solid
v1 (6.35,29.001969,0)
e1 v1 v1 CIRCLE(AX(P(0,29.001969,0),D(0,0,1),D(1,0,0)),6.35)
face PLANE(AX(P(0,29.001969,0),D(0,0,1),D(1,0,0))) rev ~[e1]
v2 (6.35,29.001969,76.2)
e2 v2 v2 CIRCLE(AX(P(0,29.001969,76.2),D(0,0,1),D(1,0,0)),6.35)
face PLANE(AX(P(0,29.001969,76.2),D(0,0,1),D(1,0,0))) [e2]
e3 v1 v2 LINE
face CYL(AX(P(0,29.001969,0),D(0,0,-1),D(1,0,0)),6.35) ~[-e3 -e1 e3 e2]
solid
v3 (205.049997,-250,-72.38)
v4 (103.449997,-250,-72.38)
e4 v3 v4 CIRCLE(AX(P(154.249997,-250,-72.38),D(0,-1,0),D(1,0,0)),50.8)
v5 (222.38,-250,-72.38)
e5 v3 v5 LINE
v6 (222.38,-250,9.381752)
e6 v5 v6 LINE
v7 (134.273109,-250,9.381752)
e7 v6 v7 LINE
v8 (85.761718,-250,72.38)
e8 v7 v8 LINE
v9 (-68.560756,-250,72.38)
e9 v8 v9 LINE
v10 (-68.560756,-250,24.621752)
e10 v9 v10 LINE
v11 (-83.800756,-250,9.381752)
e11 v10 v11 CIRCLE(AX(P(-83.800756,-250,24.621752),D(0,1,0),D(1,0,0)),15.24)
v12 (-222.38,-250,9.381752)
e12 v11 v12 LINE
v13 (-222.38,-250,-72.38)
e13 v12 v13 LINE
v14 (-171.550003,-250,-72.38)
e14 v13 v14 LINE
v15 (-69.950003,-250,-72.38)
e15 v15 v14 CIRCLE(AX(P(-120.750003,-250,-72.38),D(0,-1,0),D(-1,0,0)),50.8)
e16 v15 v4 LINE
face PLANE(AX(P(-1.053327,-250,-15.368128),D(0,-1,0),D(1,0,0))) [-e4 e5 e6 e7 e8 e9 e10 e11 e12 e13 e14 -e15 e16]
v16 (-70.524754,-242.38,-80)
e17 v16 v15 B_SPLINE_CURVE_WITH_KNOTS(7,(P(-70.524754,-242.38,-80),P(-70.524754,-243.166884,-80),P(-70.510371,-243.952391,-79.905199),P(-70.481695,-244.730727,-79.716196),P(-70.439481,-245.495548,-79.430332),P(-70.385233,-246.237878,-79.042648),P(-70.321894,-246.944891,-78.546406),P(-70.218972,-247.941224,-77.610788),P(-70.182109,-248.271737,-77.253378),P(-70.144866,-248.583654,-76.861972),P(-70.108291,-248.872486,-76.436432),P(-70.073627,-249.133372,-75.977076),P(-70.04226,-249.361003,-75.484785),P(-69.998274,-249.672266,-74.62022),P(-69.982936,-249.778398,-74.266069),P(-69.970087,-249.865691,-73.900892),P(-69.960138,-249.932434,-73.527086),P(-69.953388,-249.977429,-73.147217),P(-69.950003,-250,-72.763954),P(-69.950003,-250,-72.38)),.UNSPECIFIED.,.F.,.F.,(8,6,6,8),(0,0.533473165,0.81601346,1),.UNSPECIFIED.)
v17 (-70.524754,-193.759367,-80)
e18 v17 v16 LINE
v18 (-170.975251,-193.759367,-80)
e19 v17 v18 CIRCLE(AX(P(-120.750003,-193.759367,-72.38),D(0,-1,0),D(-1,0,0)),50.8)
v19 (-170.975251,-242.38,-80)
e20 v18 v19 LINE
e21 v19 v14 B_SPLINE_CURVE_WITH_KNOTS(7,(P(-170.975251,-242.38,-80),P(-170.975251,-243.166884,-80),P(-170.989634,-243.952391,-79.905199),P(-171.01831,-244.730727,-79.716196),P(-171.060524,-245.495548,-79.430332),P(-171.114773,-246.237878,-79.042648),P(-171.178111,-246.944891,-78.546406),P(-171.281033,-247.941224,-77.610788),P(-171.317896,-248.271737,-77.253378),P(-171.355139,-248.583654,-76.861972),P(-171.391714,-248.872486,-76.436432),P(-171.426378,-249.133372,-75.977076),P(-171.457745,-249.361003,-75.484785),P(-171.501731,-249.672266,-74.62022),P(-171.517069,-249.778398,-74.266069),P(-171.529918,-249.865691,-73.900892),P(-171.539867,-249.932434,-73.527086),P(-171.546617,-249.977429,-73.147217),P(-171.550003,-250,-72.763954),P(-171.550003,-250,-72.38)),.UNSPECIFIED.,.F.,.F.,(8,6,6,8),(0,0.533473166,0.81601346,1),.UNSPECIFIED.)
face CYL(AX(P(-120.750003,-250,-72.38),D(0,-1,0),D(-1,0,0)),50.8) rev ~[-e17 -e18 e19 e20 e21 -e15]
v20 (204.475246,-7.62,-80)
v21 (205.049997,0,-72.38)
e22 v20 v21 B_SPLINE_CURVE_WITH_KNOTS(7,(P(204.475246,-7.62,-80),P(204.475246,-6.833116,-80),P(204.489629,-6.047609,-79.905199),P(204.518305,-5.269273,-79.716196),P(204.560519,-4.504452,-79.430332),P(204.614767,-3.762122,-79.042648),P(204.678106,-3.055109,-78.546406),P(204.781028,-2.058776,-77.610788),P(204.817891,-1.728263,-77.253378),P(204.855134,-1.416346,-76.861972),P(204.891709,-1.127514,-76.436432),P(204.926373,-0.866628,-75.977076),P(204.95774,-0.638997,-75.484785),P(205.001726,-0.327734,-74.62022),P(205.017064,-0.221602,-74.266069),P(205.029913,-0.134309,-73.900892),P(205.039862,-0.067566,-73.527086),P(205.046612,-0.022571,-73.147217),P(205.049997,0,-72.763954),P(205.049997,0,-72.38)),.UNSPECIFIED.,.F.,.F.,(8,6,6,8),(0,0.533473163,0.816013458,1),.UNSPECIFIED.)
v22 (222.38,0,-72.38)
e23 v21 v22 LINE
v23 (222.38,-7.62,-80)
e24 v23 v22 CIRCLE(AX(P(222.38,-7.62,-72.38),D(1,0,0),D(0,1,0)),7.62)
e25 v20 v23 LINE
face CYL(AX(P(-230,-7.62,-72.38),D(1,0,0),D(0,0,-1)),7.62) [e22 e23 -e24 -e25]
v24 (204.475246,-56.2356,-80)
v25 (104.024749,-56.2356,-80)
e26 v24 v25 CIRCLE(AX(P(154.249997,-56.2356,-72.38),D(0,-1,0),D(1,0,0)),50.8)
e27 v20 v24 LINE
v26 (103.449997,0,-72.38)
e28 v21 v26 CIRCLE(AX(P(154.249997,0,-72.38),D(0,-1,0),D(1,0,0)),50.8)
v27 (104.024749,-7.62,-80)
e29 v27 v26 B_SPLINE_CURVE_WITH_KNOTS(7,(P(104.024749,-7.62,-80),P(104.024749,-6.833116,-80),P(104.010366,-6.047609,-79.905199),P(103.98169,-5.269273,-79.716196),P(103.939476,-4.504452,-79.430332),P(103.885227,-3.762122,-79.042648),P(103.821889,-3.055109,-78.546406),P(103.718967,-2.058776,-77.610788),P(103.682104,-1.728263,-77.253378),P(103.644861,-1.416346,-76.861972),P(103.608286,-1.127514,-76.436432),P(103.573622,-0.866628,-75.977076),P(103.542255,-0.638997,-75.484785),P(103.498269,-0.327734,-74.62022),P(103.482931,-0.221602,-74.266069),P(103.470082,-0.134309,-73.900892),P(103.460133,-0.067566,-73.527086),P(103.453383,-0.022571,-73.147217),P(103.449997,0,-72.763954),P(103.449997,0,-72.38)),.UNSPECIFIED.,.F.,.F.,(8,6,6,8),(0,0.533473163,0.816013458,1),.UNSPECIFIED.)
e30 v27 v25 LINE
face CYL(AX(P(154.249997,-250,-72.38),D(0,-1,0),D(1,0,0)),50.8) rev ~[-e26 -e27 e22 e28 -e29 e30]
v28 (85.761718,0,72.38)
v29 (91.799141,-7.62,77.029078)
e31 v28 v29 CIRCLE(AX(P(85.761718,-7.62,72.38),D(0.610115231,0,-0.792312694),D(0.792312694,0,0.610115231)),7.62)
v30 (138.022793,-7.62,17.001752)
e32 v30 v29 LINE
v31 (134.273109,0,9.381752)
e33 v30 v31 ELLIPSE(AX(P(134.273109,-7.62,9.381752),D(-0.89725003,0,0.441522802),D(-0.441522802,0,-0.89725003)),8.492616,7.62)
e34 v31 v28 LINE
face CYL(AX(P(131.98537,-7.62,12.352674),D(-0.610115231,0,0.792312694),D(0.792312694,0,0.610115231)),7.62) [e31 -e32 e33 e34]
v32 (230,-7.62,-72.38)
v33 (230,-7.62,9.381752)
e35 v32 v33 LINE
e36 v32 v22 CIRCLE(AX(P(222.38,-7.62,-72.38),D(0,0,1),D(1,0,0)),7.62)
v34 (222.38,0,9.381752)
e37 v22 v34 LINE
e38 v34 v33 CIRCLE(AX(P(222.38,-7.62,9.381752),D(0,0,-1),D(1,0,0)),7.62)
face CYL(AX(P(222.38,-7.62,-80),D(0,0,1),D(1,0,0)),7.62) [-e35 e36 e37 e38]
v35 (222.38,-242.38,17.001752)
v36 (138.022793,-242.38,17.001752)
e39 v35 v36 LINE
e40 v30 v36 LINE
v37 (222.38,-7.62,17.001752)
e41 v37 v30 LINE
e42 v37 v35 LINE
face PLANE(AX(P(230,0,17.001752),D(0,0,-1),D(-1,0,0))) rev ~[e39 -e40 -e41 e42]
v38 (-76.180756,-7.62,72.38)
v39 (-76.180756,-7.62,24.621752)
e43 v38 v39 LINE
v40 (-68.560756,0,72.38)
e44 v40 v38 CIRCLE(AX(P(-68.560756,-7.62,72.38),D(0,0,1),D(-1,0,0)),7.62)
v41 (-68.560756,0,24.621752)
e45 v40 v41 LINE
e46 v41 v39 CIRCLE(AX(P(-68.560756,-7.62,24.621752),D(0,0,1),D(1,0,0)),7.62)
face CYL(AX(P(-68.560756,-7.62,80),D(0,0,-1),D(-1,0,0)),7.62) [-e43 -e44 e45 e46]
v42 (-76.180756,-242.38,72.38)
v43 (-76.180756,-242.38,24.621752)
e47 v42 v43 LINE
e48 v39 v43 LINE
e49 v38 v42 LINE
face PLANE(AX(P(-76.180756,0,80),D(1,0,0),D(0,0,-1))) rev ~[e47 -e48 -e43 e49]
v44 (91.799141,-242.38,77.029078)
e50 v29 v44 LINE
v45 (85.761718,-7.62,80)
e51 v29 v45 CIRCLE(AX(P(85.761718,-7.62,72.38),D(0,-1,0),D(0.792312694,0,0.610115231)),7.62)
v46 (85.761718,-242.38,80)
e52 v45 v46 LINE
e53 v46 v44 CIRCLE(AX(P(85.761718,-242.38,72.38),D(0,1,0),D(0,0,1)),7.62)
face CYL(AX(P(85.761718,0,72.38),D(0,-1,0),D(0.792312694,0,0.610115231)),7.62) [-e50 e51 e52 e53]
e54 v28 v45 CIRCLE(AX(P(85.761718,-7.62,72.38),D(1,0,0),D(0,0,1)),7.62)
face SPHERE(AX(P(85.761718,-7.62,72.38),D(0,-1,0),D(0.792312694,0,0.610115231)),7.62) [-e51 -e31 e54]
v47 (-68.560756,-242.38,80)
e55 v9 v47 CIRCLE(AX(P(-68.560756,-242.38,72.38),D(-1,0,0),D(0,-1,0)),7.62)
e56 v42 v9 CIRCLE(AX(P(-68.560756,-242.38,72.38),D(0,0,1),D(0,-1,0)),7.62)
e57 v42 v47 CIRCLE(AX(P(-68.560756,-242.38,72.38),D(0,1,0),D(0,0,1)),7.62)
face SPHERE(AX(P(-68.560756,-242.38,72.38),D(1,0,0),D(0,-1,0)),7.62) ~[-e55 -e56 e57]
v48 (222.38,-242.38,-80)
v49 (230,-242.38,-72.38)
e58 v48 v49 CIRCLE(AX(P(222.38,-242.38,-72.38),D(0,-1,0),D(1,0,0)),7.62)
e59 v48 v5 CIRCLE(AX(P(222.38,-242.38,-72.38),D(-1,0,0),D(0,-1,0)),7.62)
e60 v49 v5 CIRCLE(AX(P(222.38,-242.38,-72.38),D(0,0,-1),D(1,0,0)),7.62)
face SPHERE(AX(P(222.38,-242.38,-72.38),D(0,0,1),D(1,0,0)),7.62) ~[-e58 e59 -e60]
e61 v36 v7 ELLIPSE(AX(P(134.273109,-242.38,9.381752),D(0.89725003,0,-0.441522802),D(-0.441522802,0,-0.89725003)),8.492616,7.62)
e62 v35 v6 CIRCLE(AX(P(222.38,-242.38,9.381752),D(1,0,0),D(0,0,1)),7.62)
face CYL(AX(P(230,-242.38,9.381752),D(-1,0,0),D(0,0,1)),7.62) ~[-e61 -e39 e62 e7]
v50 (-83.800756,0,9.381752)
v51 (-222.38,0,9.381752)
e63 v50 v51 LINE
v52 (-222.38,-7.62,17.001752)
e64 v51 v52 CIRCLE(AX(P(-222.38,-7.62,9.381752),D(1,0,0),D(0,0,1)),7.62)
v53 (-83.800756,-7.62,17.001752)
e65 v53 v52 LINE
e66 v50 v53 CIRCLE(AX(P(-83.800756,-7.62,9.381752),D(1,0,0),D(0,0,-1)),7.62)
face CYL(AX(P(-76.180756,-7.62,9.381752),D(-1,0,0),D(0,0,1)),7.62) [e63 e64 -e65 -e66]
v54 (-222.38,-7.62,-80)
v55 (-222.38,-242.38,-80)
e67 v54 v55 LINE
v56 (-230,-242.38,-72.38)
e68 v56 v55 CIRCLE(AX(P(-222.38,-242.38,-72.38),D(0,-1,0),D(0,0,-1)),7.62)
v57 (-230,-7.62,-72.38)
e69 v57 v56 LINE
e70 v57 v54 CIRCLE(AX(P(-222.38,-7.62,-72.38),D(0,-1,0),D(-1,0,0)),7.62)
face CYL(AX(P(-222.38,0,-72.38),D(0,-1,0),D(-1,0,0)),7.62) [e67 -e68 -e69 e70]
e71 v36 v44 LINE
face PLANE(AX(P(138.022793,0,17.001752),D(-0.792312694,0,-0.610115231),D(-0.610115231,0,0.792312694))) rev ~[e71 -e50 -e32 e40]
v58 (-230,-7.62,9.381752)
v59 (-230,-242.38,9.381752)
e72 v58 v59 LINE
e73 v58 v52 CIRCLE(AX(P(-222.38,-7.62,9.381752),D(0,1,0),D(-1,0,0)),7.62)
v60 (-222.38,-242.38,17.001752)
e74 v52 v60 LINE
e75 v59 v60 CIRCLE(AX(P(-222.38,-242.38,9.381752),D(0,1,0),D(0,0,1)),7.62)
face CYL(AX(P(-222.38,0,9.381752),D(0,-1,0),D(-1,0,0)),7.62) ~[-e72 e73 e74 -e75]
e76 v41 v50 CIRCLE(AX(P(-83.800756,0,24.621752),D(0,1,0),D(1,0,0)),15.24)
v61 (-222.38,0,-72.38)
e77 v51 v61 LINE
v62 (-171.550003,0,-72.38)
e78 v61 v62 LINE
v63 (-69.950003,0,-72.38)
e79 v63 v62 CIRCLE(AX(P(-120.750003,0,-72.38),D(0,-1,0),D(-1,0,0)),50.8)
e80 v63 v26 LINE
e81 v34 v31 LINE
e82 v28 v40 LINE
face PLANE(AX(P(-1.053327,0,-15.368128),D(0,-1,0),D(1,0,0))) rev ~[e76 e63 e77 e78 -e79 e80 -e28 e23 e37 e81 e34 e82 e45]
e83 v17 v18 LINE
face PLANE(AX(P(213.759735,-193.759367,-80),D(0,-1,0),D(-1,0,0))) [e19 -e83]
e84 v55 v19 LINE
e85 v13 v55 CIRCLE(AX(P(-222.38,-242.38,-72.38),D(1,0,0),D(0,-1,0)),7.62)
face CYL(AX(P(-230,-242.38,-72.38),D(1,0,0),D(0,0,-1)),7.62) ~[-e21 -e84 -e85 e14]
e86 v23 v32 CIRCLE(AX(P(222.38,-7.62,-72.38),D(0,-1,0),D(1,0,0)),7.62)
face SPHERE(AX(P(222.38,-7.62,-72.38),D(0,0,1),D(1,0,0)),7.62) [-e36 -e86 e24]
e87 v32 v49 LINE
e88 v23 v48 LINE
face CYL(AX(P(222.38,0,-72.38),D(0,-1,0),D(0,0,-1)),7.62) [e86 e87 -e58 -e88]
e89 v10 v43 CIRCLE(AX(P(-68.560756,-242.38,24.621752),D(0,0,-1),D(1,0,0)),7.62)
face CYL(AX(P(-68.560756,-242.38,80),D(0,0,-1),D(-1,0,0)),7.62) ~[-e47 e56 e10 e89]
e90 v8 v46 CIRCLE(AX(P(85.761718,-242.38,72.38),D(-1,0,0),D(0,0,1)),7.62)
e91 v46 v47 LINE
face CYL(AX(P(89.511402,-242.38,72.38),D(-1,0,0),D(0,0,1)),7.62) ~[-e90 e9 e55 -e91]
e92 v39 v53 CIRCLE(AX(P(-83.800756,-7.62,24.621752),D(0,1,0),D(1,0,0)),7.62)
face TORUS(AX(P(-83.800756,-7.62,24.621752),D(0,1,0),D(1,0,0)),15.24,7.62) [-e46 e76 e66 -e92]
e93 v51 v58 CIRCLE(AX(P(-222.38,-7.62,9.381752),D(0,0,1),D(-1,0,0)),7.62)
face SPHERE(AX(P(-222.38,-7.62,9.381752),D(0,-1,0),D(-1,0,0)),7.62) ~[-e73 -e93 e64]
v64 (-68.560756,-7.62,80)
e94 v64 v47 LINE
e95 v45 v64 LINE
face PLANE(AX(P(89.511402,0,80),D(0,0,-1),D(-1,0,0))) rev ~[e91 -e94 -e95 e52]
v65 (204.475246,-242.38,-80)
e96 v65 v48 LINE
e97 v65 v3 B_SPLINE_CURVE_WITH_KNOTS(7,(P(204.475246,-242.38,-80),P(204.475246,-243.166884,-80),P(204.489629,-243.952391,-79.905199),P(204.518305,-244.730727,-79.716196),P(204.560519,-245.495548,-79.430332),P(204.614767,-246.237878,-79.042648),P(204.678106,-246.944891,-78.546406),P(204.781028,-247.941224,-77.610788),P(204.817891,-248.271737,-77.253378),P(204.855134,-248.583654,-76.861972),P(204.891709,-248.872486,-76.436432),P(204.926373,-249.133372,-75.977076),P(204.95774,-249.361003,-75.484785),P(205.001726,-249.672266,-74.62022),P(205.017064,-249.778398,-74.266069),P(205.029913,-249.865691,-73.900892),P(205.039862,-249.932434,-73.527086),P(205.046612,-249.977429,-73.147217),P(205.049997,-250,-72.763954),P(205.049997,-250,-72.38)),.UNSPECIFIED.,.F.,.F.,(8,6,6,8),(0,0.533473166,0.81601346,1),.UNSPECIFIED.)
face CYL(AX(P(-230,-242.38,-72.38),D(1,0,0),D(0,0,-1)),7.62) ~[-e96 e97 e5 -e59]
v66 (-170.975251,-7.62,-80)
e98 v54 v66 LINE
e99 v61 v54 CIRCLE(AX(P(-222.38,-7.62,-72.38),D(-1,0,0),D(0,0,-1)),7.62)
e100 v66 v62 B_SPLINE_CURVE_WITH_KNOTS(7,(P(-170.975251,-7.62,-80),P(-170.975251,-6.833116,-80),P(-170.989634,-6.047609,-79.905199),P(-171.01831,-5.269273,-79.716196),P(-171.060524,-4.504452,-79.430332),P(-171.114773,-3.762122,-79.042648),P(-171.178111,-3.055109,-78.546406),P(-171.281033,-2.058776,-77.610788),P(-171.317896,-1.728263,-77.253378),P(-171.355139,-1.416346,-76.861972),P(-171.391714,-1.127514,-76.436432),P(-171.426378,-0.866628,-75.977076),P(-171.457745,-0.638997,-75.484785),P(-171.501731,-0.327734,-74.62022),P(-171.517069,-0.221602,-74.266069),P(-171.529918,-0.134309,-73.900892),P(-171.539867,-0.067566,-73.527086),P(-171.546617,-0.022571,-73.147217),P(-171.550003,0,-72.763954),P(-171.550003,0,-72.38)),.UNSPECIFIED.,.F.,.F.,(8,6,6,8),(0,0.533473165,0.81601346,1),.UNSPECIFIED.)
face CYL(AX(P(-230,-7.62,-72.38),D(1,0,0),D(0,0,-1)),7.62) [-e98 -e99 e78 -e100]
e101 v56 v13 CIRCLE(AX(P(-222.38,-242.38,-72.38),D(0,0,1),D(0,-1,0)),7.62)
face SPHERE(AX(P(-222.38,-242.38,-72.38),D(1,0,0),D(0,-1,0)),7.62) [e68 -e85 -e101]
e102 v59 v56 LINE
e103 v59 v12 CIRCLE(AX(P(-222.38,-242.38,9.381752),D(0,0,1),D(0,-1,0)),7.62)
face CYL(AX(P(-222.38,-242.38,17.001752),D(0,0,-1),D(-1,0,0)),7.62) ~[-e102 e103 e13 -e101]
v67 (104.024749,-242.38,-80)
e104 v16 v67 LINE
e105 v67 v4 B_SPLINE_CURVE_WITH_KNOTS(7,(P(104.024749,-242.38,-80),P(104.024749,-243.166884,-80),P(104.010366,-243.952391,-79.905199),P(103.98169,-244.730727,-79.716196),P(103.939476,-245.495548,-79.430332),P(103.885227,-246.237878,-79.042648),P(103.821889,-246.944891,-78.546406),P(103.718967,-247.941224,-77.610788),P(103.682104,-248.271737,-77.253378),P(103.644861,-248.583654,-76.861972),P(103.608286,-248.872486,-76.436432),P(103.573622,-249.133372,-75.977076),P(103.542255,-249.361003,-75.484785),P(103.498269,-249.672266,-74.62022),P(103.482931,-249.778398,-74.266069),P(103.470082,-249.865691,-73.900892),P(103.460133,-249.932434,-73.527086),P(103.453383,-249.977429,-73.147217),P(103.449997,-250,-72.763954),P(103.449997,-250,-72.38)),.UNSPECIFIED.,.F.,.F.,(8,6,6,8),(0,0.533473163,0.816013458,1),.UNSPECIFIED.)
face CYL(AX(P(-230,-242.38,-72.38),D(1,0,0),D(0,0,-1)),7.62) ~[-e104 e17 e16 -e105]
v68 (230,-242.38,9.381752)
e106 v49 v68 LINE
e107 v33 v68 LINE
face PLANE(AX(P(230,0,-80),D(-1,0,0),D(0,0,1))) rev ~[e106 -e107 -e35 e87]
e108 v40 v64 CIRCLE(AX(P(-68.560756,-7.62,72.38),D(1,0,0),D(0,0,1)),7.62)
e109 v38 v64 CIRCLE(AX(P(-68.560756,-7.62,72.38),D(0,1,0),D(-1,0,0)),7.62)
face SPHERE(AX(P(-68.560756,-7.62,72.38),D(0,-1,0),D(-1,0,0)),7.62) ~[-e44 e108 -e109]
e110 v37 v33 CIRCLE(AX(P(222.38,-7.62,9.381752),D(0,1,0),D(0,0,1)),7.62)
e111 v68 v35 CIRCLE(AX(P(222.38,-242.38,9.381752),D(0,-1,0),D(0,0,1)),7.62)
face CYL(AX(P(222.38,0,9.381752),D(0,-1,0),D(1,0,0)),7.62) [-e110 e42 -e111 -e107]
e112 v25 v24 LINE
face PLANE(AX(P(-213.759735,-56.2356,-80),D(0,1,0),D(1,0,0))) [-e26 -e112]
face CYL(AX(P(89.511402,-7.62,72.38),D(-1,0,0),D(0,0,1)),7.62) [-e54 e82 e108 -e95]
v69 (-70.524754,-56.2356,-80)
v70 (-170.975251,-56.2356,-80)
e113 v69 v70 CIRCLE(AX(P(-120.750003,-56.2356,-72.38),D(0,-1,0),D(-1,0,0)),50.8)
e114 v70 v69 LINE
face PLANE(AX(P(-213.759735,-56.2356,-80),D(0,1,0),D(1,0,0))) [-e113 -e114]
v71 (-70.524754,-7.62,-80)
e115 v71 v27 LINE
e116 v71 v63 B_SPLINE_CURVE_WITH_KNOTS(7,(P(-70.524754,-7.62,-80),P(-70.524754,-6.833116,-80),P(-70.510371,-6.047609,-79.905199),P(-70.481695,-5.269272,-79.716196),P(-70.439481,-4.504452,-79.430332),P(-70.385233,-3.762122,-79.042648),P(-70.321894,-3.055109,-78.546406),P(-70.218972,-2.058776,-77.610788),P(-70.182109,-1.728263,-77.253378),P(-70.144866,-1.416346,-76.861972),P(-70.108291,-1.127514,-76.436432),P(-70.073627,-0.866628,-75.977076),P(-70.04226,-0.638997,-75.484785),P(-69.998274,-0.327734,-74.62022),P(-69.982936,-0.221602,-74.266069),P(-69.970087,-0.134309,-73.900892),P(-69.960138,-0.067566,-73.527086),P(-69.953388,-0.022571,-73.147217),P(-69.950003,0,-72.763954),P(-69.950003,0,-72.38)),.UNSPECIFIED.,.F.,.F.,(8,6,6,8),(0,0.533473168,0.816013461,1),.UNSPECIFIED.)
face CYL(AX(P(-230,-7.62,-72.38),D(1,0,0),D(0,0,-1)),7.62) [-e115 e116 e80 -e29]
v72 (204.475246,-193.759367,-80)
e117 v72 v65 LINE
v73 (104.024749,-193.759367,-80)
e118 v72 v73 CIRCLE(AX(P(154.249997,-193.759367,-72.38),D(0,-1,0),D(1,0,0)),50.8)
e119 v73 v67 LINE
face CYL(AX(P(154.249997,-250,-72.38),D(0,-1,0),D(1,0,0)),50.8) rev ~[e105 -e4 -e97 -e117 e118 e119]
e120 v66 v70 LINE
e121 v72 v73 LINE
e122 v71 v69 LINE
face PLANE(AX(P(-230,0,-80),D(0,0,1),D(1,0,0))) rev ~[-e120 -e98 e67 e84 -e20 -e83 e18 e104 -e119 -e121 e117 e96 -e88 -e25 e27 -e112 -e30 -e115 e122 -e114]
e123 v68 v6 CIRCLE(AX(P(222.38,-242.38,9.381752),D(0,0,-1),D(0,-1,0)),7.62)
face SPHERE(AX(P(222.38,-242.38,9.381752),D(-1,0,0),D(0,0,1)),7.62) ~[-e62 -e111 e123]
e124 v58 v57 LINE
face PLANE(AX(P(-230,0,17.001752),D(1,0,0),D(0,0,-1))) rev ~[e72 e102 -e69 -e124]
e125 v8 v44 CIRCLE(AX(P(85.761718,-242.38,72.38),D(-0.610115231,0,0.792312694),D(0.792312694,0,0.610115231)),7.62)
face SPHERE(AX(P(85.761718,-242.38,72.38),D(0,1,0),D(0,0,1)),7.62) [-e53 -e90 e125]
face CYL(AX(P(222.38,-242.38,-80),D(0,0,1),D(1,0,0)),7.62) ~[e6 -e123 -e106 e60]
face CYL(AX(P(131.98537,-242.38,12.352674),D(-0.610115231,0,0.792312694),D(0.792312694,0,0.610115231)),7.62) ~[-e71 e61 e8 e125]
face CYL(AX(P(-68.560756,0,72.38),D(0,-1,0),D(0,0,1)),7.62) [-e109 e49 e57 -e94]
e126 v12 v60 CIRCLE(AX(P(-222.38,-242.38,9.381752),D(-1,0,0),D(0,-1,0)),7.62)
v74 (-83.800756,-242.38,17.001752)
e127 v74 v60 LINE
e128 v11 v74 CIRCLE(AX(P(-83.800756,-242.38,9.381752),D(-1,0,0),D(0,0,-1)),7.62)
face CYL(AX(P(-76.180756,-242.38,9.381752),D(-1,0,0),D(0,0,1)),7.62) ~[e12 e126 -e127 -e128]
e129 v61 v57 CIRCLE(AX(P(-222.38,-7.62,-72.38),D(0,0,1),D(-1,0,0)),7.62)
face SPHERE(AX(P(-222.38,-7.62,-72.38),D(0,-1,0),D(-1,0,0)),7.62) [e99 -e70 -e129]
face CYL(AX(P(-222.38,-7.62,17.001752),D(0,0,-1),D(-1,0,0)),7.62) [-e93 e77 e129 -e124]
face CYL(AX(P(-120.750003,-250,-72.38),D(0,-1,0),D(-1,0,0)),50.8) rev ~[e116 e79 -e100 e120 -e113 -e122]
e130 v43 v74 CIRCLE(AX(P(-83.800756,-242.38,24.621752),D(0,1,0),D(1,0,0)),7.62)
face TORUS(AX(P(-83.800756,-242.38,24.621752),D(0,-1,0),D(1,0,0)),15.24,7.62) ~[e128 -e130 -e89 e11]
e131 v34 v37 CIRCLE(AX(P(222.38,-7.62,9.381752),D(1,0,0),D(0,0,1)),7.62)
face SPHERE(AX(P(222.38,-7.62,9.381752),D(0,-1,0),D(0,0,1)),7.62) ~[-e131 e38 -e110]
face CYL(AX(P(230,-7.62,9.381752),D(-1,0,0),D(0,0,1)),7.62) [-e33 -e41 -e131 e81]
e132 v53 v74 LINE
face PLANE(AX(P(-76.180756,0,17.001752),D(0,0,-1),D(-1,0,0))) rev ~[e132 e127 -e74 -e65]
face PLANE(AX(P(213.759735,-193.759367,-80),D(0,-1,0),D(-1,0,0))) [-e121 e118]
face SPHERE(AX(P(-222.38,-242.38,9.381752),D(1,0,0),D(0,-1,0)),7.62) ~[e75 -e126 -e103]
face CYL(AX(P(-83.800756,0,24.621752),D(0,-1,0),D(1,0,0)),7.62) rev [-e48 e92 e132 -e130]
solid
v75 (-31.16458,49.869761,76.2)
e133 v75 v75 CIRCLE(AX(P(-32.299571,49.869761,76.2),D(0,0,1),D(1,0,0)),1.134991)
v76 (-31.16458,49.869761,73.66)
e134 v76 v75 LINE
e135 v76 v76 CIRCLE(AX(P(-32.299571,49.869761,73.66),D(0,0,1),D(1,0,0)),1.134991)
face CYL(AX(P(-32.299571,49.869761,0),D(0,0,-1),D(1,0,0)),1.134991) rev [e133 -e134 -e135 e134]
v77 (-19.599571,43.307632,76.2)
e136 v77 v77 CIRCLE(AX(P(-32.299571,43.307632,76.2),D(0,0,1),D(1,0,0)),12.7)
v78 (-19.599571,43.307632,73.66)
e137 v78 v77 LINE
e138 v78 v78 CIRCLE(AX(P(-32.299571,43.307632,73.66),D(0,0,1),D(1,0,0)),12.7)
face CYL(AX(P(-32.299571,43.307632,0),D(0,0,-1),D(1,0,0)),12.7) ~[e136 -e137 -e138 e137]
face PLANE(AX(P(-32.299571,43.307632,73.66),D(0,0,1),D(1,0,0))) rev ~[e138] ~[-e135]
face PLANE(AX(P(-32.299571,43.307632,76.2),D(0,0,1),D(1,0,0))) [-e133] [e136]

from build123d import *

# Parameters (mm, degrees)
F1_DEPTH = 250
F2_R     = 7.62
F4_DEPTH = 259.08
F5_W     = 143.2349812942
F5_H     = 137.5237668699
F5_W_2   = 109.7349864202
F5_W_3   = 174.5495027389
F6_DEPTH = 88.9
F7_R     = 6.35
F8_DEPTH = 76.2
F7_R_2   = 12.7
F7_R_3   = 1.1349906825
F9_DEPTH = 73.66


with BuildPart() as f1:
    # F0 (on Front) → F1 (new body)
    with BuildSketch(Plane.XZ):
        Polygon((-230, 17.0017518103), (-230, -80), (230, -80), (230, 17.0017518103), (138.0227927625, 17.0017518103), (89.5114019513, 80), (-76.1807560921, 80), (-76.1807560921, 17.0017518103), align=None)
    extrude(amount=F1_DEPTH)

    # F2
    f2_edges = [f1.edges().sort_by_distance(p)[0] for p in [
        (184.011396, -250, 17.001752),
        (230, -125, 17.001752),
        (230, -250, -31.499124),
        (113.767097, -250, 48.500876),
        (89.511402, -125, 80),
        (184.011396, 0, 17.001752),
        (113.767097, 0, 48.500876),
        (230, 0, -31.499124),
        (230, -125, -80),
        (0, -250, -80),
        (6.665323, -250, 80),
        (-76.180756, -250, 48.500876),
        (-153.090378, -250, 17.001752),
        (-230, -250, -31.499124),
        (-76.180756, -125, 80),
        (-76.180756, -125, 17.001752),
        (-76.180756, 0, 48.500876),
        (-230, -125, 17.001752),
        (-230, -125, -80),
        (-230, 0, -31.499124),
        (6.665323, 0, 80),
        (-153.090378, 0, 17.001752),
        (0, 0, -80),
    ]]
    fillet(f2_edges, radius=F2_R)

    # F3 (on face) → F4 (cut)
    with BuildSketch(Plane.XZ.offset(250)):
        with BuildLine():
            Line((-171.550002563, -72.38), (-69.950002563, -72.38))
            ThreePointArc((-69.950002563, -72.38), (-120.750002563, -21.58), (-171.550002563, -72.38))
        make_face()
        with BuildLine():
            ThreePointArc((-171.550002563, -72.38), (-120.750002563, -123.18), (-69.950002563, -72.38))
            Line((-69.950002563, -72.38), (-171.550002563, -72.38))
        make_face()
        with BuildLine():
            ThreePointArc((103.449997437, -72.38), (154.249997437, -123.18), (205.049997437, -72.38))
            Line((205.049997437, -72.38), (103.449997437, -72.38))
        make_face()
        with BuildLine():
            Line((103.449997437, -72.38), (205.049997437, -72.38))
            ThreePointArc((205.049997437, -72.38), (154.249997437, -21.58), (103.449997437, -72.38))
        make_face()
    extrude(amount=-F4_DEPTH, mode=Mode.SUBTRACT)

    # F5 (on face) → F6 (join)
    with BuildSketch(Plane(origin=(0, 0, -80), x_dir=(1, 0, 0), z_dir=(0, 0, -1))):
        with Locations((-142.1422445795, 124.997483435)):
            Rectangle(F5_W, F5_H)
        with Locations((158.8922420165, 124.997483435)):
            Rectangle(F5_W_2, F5_H)
        with Locations((16.749997437, 124.997483435)):
            Rectangle(F5_W_3, F5_H)
    extrude(amount=-F6_DEPTH)


with BuildPart() as f8:
    # F7 (on Top) → F8 (new body)
    with BuildSketch(Plane.XY):
        with Locations((0, 29.0019685285)):
            Circle(F7_R)
    extrude(amount=F8_DEPTH)


with BuildPart() as f8b:
    # F7 (on Top) → F8, piece 2 (new body)
    with BuildSketch(Plane.XY):
        with Locations((-32.2995707393, 43.3076322079)):
            Circle(F7_R_2)
        with Locations((-32.2995707393, 49.8697608709)):
            Circle(F7_R_3, mode=Mode.SUBTRACT)
    extrude(amount=F8_DEPTH)

    # F9 (cut): a face of the model
    f9_faces = [f8b.faces().sort_by_distance(p)[0] for p in [
        (-32.2995707393, 43.2547993047, 0),
    ]]
    extrude(f9_faces, amount=-F9_DEPTH, mode=Mode.SUBTRACT)


solid = Compound([f1.part, f8.part, f8b.part])
